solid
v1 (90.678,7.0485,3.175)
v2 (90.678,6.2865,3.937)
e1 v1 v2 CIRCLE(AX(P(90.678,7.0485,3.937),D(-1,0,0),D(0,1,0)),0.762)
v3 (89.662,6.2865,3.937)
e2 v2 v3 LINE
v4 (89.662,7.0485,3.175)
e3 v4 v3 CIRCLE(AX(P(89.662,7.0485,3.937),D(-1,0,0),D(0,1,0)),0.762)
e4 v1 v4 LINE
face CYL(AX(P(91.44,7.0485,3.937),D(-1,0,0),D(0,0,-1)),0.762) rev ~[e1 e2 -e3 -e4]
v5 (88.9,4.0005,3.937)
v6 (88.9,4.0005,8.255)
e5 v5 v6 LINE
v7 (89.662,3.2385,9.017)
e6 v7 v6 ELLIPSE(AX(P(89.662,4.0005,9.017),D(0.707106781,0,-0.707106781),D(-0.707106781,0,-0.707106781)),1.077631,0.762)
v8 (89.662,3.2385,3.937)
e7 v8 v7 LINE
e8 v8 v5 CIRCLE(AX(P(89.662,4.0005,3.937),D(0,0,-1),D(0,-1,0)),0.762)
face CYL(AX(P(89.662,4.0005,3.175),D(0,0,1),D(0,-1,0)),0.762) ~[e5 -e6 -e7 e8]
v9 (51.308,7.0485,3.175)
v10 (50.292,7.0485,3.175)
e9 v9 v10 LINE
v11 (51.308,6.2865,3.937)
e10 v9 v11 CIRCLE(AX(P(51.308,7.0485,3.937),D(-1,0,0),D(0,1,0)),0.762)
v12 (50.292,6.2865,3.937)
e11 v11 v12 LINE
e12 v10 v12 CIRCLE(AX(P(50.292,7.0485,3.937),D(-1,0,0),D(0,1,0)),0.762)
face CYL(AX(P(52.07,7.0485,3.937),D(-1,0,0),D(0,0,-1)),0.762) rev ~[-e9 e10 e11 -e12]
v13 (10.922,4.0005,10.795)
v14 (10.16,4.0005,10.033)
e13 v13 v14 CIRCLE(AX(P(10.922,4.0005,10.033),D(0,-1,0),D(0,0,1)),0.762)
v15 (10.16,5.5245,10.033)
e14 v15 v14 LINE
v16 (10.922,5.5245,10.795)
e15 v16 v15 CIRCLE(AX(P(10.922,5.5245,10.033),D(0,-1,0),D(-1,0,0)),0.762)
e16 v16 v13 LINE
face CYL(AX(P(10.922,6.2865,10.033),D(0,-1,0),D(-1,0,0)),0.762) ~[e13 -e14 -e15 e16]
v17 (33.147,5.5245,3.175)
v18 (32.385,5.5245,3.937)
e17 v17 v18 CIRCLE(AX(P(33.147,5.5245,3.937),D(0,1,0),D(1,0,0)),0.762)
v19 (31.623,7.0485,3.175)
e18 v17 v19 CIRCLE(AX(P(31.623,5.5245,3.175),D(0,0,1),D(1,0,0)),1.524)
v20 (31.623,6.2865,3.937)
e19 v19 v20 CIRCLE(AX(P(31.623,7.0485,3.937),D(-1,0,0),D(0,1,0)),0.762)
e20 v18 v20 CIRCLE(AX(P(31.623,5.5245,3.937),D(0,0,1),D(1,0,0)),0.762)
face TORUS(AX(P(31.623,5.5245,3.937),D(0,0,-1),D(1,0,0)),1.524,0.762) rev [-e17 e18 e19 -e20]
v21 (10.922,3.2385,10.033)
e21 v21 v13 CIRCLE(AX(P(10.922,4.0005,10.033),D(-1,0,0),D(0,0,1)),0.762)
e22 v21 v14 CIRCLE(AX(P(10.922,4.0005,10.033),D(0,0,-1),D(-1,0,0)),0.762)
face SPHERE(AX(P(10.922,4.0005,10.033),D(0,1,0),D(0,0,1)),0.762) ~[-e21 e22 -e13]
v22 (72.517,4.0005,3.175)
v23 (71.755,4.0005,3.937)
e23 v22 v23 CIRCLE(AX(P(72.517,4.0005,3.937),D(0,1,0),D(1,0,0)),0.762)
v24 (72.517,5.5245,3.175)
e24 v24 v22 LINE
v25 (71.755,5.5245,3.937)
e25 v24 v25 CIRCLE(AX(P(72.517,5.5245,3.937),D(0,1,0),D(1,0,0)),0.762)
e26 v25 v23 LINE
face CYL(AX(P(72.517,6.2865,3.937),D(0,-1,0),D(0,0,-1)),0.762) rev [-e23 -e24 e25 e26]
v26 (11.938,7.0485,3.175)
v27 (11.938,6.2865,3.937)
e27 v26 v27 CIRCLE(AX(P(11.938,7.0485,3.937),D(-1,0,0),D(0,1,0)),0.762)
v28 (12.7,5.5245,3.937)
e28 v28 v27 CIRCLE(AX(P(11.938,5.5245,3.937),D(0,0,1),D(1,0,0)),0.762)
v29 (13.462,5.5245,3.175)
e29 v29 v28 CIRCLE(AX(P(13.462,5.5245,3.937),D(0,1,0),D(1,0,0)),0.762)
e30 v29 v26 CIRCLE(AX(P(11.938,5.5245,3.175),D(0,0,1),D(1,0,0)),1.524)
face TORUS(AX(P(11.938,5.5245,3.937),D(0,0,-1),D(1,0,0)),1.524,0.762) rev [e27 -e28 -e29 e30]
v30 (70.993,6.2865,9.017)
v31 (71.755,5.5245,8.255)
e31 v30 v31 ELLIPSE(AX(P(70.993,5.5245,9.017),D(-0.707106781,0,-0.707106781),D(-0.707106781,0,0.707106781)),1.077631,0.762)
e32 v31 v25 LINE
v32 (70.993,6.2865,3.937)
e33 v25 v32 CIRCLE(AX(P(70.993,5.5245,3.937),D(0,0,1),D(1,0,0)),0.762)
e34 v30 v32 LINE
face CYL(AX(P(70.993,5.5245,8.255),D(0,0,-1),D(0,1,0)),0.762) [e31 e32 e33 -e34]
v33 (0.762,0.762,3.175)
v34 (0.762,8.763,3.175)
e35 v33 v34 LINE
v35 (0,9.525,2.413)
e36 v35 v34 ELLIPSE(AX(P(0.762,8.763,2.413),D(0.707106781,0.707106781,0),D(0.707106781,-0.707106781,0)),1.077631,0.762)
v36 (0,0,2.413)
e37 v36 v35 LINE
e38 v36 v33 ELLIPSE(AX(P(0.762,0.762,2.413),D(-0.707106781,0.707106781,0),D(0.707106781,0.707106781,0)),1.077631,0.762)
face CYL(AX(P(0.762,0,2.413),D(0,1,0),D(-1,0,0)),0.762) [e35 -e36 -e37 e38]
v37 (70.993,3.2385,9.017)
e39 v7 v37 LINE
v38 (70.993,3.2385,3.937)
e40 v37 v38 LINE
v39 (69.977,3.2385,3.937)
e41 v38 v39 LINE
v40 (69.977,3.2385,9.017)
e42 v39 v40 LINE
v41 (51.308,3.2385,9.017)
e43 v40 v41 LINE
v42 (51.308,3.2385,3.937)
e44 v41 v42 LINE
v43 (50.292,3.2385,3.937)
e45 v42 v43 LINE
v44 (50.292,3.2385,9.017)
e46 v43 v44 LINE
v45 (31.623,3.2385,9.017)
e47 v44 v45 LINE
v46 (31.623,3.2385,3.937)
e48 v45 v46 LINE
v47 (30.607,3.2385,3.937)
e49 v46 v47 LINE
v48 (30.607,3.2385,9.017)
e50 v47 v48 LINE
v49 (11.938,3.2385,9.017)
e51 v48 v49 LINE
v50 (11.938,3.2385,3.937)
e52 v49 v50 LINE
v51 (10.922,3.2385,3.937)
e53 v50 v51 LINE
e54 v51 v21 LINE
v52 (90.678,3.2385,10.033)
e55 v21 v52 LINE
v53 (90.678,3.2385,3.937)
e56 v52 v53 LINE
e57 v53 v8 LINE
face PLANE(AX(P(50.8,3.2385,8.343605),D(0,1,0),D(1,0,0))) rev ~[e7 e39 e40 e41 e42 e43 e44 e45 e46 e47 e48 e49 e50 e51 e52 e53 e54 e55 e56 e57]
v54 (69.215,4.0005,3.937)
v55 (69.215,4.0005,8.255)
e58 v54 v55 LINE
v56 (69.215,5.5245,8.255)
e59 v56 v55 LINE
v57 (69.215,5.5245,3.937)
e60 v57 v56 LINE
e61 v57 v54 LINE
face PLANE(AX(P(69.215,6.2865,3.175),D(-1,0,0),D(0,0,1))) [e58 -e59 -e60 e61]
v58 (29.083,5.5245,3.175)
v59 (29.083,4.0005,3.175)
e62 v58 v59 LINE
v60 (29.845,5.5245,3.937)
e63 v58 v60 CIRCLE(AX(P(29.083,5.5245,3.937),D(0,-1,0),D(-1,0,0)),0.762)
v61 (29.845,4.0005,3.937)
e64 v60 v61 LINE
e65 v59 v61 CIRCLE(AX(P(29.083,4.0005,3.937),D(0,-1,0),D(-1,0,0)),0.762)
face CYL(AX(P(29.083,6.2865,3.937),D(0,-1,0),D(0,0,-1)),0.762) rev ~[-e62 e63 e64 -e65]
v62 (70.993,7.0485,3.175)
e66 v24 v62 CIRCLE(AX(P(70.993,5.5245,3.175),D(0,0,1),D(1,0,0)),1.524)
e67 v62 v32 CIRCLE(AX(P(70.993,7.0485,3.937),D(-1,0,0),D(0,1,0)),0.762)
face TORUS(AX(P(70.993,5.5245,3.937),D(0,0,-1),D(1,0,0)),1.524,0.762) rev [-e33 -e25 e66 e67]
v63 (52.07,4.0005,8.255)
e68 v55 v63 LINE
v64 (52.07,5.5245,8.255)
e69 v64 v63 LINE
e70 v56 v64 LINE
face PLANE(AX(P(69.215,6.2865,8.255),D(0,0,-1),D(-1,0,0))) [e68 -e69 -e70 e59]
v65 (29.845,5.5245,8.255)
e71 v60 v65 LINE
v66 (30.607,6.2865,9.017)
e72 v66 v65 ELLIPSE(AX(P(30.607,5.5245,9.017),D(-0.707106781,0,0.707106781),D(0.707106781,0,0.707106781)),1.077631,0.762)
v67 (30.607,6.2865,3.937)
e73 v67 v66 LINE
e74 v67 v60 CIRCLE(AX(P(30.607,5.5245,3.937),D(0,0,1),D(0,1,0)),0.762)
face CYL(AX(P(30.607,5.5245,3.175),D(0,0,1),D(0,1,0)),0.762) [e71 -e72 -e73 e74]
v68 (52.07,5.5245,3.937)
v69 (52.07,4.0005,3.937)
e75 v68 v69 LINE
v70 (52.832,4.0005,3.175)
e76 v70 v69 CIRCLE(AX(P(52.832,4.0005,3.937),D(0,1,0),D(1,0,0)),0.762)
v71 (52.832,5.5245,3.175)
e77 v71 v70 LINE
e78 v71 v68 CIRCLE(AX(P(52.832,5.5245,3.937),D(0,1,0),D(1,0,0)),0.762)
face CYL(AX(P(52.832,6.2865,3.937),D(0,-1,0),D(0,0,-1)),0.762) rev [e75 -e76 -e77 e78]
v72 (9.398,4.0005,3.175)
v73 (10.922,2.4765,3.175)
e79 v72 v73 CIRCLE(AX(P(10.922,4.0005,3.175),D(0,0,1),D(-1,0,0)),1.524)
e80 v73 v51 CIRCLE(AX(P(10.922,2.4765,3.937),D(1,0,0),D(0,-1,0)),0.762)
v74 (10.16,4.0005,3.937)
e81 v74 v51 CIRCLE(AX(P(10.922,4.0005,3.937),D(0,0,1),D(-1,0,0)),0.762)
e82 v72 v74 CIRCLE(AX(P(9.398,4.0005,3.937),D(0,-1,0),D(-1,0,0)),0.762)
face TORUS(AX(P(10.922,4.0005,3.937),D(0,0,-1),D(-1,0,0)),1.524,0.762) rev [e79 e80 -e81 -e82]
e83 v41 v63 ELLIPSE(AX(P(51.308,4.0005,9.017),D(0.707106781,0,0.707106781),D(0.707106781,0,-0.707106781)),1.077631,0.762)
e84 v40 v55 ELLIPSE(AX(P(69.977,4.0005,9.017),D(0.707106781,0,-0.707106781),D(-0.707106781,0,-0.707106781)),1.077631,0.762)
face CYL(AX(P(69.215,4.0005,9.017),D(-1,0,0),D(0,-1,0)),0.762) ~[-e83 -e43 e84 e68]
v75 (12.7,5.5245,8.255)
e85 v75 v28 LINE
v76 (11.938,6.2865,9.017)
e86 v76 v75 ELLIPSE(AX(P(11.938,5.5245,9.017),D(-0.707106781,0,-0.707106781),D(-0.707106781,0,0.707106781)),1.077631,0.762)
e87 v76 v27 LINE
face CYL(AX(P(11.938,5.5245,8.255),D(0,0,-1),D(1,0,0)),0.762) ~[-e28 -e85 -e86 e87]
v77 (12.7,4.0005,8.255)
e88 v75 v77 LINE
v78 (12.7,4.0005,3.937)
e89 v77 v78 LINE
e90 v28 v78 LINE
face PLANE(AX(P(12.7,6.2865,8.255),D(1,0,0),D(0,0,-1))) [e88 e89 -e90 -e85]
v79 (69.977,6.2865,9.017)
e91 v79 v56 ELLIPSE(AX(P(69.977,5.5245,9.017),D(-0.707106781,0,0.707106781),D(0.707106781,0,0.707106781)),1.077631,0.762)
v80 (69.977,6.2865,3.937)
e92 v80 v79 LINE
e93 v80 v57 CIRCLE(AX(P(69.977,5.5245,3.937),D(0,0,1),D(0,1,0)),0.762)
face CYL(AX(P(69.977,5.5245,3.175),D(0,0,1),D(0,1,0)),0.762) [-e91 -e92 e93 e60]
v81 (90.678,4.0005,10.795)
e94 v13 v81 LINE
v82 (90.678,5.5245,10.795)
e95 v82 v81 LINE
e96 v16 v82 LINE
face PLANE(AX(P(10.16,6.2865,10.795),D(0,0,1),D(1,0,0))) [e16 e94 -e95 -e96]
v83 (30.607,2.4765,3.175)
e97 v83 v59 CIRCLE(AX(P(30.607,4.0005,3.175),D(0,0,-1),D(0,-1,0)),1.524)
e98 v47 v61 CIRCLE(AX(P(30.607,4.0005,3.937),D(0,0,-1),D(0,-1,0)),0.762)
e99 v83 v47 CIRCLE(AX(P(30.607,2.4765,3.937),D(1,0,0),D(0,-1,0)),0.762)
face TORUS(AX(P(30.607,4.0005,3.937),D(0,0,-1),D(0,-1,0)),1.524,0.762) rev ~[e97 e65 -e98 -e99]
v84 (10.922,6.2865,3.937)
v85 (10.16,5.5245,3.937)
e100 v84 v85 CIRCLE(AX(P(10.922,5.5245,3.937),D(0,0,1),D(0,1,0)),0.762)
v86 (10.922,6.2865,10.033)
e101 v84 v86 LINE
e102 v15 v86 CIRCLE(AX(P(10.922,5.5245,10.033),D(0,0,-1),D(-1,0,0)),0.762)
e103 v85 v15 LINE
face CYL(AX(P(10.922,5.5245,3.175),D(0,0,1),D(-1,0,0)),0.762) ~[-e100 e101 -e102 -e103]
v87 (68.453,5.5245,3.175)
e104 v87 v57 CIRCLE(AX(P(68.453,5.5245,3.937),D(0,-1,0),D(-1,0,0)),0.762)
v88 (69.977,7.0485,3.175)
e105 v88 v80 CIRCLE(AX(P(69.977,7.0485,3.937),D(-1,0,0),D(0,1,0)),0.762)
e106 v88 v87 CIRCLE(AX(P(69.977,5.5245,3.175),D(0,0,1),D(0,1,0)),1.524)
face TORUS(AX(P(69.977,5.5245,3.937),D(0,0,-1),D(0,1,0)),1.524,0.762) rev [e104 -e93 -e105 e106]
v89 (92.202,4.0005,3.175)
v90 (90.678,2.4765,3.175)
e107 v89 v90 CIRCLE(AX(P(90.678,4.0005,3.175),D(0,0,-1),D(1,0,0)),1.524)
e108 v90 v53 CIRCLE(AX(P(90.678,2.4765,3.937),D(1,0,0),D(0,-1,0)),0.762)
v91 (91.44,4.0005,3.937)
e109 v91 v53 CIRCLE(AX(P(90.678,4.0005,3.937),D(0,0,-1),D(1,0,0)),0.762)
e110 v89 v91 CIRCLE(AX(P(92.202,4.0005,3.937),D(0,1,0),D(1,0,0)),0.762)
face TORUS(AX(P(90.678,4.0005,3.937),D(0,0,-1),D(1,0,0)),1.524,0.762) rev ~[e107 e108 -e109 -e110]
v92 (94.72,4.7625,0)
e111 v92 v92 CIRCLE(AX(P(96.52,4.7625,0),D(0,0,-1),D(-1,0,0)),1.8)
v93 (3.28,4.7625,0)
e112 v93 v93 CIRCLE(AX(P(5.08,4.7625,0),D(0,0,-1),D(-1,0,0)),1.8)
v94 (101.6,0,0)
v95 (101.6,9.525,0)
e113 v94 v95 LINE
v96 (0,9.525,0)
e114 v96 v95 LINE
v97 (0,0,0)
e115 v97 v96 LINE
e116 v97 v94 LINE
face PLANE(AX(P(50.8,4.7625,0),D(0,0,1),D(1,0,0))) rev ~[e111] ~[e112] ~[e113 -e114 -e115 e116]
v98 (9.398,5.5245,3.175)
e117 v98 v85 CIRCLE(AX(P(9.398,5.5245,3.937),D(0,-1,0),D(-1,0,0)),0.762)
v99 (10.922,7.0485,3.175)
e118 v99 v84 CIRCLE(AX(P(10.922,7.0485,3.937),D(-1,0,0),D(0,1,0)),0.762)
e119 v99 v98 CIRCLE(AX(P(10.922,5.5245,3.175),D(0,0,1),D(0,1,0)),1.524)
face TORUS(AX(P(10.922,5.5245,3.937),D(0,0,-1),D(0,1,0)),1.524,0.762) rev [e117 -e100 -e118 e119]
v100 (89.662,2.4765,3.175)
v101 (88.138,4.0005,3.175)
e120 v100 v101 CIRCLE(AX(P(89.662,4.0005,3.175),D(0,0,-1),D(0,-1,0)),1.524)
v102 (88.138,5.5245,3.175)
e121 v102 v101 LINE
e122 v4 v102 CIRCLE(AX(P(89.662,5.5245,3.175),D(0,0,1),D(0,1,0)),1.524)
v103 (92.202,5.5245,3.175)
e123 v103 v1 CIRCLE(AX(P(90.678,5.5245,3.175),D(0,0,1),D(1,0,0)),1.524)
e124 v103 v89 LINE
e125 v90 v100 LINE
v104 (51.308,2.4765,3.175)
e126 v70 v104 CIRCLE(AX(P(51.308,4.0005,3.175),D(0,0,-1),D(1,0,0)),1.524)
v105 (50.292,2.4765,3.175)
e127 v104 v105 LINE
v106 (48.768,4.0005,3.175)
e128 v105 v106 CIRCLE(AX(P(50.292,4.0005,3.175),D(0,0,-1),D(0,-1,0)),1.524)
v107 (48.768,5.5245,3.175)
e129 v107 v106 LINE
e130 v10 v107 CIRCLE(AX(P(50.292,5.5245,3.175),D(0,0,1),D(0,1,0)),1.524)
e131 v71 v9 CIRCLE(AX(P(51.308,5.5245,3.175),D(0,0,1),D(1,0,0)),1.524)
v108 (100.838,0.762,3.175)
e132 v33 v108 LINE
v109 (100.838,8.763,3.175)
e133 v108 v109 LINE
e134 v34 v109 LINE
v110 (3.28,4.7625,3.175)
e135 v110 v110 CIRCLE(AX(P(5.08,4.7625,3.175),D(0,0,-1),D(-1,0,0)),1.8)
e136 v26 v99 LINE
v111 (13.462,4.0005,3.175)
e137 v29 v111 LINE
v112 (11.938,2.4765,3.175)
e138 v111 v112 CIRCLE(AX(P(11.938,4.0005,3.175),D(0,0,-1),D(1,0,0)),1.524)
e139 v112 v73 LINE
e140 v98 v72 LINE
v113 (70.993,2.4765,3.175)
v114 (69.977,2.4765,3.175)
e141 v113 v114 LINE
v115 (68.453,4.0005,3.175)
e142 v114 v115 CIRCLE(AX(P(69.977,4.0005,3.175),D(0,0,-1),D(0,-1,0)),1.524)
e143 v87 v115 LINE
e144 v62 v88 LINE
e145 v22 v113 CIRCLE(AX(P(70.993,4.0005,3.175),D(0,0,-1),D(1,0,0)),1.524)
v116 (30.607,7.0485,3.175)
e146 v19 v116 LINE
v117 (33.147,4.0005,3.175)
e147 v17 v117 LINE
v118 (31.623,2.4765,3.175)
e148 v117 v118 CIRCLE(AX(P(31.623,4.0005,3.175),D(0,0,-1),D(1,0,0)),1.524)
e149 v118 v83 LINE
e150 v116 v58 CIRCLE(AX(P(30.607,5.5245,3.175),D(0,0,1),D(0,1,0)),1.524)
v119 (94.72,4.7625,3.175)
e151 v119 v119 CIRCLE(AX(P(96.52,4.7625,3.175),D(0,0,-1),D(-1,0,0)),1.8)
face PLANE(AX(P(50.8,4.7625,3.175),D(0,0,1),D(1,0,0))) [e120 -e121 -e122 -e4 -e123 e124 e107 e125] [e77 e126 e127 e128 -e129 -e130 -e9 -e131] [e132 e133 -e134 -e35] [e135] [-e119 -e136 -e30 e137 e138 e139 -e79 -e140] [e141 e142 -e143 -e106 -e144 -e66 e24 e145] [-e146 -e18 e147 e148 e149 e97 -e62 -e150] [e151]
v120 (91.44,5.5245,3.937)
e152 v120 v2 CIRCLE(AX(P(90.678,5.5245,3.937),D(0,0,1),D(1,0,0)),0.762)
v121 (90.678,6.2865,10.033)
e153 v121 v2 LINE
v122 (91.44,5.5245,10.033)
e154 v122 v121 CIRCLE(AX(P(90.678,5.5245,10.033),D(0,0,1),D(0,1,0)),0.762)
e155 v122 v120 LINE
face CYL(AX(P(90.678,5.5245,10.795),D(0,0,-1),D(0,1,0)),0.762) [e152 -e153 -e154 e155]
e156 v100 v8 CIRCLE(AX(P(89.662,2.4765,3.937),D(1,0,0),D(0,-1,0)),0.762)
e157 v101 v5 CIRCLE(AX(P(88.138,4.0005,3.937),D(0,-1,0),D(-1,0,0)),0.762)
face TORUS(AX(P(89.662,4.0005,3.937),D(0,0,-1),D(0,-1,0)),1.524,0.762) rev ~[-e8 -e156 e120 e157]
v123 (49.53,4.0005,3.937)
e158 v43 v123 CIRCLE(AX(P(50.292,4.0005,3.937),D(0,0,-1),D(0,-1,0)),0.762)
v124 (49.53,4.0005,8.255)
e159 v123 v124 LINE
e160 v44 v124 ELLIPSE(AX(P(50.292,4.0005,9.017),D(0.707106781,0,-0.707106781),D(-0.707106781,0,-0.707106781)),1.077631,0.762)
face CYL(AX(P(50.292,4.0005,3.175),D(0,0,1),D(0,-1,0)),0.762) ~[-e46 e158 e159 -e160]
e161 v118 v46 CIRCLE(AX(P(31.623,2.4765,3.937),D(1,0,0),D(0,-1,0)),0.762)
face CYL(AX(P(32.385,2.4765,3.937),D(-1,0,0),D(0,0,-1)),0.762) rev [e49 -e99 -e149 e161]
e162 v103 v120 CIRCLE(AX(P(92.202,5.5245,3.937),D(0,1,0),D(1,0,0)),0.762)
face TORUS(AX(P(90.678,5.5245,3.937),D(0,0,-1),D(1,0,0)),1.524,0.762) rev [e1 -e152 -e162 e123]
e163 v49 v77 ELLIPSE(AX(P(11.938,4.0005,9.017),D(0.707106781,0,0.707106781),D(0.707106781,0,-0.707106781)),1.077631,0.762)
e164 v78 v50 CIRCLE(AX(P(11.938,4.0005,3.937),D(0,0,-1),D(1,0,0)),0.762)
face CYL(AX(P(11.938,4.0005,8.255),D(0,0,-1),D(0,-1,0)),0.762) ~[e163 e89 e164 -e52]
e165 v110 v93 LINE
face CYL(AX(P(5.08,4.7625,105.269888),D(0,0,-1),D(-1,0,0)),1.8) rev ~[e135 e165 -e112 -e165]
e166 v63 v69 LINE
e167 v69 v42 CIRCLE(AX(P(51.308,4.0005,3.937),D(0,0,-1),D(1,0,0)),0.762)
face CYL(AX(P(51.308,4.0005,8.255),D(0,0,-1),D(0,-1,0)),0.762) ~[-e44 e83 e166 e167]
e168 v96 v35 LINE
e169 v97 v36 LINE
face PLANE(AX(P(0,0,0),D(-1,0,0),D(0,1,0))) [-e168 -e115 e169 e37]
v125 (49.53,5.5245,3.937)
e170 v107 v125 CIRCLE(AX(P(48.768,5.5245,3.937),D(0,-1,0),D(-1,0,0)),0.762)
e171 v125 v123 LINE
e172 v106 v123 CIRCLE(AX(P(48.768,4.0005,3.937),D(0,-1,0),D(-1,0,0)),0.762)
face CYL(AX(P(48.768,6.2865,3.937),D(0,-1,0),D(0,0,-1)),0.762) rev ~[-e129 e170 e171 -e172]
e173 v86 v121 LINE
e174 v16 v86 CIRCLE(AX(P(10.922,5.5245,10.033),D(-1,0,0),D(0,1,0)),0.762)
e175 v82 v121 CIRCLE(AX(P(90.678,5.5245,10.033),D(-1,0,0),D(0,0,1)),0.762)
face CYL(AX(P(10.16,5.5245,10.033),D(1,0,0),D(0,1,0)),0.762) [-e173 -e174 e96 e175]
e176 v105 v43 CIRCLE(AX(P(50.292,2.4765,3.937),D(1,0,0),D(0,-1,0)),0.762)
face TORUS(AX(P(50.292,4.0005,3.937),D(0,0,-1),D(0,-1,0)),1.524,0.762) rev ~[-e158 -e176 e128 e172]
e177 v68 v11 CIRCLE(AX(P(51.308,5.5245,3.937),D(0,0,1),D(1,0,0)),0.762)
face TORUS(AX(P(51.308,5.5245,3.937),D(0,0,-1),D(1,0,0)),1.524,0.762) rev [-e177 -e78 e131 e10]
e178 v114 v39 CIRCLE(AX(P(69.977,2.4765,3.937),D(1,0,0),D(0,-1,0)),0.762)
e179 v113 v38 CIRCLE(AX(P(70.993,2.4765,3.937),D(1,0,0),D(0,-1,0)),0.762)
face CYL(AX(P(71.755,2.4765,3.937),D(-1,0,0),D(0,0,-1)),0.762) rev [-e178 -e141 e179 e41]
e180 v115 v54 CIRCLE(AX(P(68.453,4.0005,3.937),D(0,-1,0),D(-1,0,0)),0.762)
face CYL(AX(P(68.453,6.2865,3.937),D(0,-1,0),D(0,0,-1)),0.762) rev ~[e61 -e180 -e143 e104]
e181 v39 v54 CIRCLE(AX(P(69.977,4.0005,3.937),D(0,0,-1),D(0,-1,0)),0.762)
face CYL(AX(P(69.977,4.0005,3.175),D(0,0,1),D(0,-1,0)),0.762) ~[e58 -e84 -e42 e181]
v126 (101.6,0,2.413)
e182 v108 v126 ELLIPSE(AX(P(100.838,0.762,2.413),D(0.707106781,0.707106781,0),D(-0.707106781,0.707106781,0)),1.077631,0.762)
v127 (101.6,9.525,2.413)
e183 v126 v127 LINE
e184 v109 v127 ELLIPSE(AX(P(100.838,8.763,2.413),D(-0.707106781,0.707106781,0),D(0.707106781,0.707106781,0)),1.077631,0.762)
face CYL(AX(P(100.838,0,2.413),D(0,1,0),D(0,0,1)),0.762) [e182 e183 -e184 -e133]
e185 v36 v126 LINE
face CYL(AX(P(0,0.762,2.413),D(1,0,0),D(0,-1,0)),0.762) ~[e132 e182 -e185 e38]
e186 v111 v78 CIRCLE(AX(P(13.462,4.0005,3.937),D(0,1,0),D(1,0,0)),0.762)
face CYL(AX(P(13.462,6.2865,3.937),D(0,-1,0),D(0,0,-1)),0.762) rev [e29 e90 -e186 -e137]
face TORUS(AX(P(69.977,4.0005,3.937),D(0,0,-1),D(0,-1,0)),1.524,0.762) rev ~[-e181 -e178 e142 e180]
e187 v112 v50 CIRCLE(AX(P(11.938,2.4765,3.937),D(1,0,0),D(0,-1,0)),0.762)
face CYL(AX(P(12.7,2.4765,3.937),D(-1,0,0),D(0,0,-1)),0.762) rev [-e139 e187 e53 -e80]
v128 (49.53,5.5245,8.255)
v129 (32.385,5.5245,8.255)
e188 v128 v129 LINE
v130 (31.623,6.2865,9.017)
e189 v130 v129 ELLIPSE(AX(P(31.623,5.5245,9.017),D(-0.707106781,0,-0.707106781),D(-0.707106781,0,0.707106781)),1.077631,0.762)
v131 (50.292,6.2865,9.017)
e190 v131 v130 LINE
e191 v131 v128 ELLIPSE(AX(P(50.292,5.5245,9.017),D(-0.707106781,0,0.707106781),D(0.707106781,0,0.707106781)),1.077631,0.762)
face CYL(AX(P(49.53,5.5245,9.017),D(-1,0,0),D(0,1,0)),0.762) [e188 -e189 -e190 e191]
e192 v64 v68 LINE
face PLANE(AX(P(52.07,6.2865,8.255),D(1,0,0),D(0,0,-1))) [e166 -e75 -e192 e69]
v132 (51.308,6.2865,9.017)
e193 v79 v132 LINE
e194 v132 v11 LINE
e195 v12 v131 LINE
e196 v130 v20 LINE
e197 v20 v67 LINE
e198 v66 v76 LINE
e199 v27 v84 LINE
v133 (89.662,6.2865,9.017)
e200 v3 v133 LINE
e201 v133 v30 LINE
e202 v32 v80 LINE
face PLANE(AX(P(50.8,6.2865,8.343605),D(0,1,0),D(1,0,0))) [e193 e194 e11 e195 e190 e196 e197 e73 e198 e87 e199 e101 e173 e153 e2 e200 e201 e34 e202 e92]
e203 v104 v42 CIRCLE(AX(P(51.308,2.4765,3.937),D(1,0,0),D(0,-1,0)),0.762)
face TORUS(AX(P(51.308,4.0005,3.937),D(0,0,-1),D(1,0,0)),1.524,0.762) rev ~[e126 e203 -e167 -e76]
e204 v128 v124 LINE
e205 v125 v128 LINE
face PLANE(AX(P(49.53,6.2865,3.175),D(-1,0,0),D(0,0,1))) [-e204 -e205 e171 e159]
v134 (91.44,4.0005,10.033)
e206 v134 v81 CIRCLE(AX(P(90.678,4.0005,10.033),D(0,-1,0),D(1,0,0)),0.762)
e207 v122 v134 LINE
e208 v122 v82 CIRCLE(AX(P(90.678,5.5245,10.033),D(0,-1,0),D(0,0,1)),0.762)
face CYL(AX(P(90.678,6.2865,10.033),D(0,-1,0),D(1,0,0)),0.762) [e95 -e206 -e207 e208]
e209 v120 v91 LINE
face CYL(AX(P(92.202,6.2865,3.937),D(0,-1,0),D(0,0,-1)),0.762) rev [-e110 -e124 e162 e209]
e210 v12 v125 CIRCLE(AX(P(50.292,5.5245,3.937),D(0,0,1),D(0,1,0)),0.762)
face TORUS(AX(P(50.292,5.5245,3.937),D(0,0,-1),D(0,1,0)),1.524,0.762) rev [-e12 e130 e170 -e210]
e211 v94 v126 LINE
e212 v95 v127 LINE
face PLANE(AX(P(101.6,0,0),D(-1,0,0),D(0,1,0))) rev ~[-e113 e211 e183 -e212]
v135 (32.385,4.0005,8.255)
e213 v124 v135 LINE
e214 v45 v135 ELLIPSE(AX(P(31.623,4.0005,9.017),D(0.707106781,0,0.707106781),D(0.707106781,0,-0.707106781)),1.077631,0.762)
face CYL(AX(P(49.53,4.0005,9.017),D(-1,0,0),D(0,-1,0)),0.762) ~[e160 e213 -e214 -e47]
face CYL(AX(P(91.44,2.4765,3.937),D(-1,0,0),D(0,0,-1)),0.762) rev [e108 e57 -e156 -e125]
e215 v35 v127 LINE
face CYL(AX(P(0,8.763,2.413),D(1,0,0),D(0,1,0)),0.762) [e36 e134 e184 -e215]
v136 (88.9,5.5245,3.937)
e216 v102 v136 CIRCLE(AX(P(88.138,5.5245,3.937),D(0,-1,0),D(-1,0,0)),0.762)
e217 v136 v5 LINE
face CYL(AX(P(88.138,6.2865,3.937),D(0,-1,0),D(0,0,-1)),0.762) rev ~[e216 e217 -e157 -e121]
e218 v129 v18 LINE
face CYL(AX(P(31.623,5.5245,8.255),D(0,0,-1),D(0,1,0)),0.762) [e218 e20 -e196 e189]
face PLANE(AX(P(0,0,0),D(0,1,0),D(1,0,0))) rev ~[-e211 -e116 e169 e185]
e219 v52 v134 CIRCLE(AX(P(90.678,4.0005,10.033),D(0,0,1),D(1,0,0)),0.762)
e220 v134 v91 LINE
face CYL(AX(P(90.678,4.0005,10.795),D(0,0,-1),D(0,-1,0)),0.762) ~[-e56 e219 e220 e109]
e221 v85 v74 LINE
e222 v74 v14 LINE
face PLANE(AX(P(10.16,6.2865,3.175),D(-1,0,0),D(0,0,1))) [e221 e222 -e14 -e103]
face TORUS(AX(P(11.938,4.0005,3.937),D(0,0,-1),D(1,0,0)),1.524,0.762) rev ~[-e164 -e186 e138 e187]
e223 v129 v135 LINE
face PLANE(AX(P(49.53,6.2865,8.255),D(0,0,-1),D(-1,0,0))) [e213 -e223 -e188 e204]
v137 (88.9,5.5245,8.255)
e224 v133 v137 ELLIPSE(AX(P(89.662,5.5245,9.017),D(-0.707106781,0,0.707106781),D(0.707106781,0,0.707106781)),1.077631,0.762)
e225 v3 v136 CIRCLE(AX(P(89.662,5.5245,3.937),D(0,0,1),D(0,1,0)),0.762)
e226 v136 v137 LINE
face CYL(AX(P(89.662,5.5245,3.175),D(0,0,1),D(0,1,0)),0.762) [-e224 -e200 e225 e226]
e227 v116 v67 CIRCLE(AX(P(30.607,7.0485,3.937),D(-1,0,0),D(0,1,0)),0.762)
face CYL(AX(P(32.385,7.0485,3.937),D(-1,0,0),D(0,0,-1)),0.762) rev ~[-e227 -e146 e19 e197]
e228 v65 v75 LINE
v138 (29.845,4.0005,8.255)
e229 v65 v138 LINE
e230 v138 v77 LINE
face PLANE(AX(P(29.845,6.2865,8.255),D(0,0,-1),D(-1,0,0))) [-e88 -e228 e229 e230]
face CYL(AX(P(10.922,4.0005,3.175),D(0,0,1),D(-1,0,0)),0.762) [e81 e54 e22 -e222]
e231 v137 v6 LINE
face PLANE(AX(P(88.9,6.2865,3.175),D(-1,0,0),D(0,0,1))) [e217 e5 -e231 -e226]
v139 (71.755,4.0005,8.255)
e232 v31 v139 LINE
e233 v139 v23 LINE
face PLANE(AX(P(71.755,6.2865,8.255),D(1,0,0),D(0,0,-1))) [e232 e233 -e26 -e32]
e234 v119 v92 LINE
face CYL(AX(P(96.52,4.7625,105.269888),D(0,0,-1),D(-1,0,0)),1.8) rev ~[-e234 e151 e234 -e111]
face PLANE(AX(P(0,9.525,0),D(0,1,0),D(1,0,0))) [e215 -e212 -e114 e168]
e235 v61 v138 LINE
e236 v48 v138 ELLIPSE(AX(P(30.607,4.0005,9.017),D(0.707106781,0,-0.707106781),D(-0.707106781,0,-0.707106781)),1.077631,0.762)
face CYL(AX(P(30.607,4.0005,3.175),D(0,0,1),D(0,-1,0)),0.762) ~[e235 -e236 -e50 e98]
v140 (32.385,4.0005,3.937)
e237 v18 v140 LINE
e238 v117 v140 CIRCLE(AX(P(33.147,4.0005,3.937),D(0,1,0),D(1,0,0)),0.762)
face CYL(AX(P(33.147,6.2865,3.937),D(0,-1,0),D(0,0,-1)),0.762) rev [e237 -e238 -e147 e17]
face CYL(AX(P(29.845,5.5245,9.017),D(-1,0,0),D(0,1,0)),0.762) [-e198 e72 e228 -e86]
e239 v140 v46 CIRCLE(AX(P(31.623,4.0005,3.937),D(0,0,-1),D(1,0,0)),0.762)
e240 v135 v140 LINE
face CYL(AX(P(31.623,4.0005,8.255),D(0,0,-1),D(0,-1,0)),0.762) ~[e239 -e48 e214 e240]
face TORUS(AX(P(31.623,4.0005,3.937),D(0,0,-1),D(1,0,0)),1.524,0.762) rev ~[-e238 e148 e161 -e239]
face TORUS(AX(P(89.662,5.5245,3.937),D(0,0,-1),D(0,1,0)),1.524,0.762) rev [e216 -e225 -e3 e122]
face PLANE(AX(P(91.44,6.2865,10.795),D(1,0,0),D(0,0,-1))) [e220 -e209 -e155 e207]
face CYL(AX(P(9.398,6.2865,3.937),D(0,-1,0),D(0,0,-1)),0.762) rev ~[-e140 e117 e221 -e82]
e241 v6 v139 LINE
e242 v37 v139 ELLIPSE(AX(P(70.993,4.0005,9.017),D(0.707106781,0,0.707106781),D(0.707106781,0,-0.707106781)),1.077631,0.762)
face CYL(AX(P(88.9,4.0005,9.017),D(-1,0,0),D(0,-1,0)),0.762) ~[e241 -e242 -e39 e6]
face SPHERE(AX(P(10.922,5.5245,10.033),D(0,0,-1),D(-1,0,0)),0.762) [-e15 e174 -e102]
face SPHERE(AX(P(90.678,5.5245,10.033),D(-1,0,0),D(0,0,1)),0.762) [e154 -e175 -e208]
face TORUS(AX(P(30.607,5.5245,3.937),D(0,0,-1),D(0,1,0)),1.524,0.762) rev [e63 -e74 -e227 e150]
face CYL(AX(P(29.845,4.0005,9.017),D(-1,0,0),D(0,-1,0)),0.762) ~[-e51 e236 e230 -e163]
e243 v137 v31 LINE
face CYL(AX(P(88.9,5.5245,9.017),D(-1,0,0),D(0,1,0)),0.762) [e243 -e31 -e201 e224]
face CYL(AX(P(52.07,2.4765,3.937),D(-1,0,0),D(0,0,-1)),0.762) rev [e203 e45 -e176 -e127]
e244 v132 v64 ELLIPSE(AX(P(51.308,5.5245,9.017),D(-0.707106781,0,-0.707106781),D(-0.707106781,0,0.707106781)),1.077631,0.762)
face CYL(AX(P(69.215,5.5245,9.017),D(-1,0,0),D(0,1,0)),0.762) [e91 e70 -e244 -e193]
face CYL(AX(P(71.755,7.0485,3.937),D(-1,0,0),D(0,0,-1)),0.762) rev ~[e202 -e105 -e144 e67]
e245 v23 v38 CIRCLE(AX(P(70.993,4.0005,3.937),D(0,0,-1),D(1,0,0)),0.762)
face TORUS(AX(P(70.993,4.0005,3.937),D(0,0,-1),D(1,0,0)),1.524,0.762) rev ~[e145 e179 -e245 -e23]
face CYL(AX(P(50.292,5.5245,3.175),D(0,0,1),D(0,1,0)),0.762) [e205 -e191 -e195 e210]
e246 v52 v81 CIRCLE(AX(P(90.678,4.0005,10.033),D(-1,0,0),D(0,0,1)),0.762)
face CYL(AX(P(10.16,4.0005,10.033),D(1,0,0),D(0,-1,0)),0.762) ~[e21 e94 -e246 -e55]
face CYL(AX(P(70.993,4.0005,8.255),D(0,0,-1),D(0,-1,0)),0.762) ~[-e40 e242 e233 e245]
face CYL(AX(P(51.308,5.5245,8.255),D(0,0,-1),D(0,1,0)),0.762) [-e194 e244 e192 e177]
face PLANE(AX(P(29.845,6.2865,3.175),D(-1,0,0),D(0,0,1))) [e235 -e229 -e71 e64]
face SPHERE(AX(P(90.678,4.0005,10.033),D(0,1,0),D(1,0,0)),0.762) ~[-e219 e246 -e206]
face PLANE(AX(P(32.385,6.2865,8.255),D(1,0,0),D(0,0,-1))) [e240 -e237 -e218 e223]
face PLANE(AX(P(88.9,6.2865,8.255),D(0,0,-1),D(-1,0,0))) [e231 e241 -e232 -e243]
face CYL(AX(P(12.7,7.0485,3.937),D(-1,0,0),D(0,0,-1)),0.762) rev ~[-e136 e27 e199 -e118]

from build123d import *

# Parameters (mm, degrees)
SKETCH2_W                = 101.6
SKETCH2_H                = 9.525
BOSS_EXTRUDE1_DEPTH      = 3.175
M3_CLEARANCE_HOLE1_D     = 3.6
BOSS_EXTRUDE2_DEPTH      = 1.524
BOSS_EXTRUDE2_DEPTH_BACK = 1.524
FILLET1_R                = 0.762


with BuildPart() as part:
    # Sketch2 → Boss-Extrude1 (new body)
    with BuildSketch(Plane.XY):
        with Locations((50.8, 4.7625)):
            Rectangle(SKETCH2_W, SKETCH2_H)
    extrude(amount=BOSS_EXTRUDE1_DEPTH)

    # M3 Clearance Hole1 (through all)
    with Locations(Plane.XY.offset(3.175)):
        with Locations((5.08, 4.7625), (96.52, 4.7625)):
            Hole(M3_CLEARANCE_HOLE1_D / 2)

    # Sketch5 → Boss-Extrude2 (add, two sides: drawn at the far end of the back side and taken through both)
    with BuildSketch(Plane(origin=(0, 4.7625, 0), x_dir=(-1, 0, 0), z_dir=(0, -1, 0)).offset(-BOSS_EXTRUDE2_DEPTH_BACK)):
        Polygon((-10.16, -3.175), (-10.16, -10.795), (-91.44, -10.795), (-91.44, -3.175), (-88.9, -3.175), (-88.9, -8.255), (-71.755, -8.255), (-71.755, -3.175), (-69.215, -3.175), (-69.215, -8.255), (-52.07, -8.255), (-52.07, -3.175), (-49.53, -3.175), (-49.53, -8.255), (-32.385, -8.255), (-32.385, -3.175), (-29.845, -3.175), (-29.845, -8.255), (-12.7, -8.255), (-12.7, -3.175), align=None)
    extrude(amount=BOSS_EXTRUDE2_DEPTH + BOSS_EXTRUDE2_DEPTH_BACK)

    # Fillet1
    fillet1_edges = [part.edges().sort_by_distance(p)[0] for p in [
        (101.6, 4.7625, 3.175),
        (50.8, 9.525, 3.175),
        (12.7, 4.7625, 3.175),
        (11.43, 6.2865, 3.175),
        (10.16, 4.7625, 3.175),
        (10.16, 6.2865, 6.985),
        (10.16, 4.7625, 10.795),
        (50.8, 6.2865, 10.795),
        (91.44, 4.7625, 10.795),
        (91.44, 6.2865, 6.985),
        (91.44, 4.7625, 3.175),
        (90.17, 6.2865, 3.175),
        (88.9, 4.7625, 3.175),
        (88.9, 6.2865, 5.715),
        (80.3275, 6.2865, 8.255),
        (71.755, 6.2865, 5.715),
        (71.755, 4.7625, 3.175),
        (70.485, 6.2865, 3.175),
        (69.215, 4.7625, 3.175),
        (69.215, 6.2865, 5.715),
        (60.6425, 6.2865, 8.255),
        (52.07, 6.2865, 5.715),
        (52.07, 4.7625, 3.175),
        (50.8, 6.2865, 3.175),
        (49.53, 4.7625, 3.175),
        (49.53, 6.2865, 5.715),
        (40.9575, 6.2865, 8.255),
        (32.385, 6.2865, 5.715),
        (32.385, 4.7625, 3.175),
        (31.115, 6.2865, 3.175),
        (29.845, 4.7625, 3.175),
        (29.845, 6.2865, 5.715),
        (21.2725, 6.2865, 8.255),
        (12.7, 6.2865, 5.715),
        (11.43, 3.2385, 3.175),
        (12.7, 3.2385, 5.715),
        (21.2725, 3.2385, 8.255),
        (29.845, 3.2385, 5.715),
        (31.115, 3.2385, 3.175),
        (32.385, 3.2385, 5.715),
        (40.9575, 3.2385, 8.255),
        (49.53, 3.2385, 5.715),
        (50.8, 3.2385, 3.175),
        (52.07, 3.2385, 5.715),
        (60.6425, 3.2385, 8.255),
        (0, 4.7625, 3.175),
        (69.215, 3.2385, 5.715),
        (70.485, 3.2385, 3.175),
        (71.755, 3.2385, 5.715),
        (80.3275, 3.2385, 8.255),
        (88.9, 3.2385, 5.715),
        (90.17, 3.2385, 3.175),
        (91.44, 3.2385, 6.985),
        (50.8, 3.2385, 10.795),
        (10.16, 3.2385, 6.985),
        (50.8, 0, 3.175),
    ]]
    fillet(fillet1_edges, radius=FILLET1_R)


solid = part.part
